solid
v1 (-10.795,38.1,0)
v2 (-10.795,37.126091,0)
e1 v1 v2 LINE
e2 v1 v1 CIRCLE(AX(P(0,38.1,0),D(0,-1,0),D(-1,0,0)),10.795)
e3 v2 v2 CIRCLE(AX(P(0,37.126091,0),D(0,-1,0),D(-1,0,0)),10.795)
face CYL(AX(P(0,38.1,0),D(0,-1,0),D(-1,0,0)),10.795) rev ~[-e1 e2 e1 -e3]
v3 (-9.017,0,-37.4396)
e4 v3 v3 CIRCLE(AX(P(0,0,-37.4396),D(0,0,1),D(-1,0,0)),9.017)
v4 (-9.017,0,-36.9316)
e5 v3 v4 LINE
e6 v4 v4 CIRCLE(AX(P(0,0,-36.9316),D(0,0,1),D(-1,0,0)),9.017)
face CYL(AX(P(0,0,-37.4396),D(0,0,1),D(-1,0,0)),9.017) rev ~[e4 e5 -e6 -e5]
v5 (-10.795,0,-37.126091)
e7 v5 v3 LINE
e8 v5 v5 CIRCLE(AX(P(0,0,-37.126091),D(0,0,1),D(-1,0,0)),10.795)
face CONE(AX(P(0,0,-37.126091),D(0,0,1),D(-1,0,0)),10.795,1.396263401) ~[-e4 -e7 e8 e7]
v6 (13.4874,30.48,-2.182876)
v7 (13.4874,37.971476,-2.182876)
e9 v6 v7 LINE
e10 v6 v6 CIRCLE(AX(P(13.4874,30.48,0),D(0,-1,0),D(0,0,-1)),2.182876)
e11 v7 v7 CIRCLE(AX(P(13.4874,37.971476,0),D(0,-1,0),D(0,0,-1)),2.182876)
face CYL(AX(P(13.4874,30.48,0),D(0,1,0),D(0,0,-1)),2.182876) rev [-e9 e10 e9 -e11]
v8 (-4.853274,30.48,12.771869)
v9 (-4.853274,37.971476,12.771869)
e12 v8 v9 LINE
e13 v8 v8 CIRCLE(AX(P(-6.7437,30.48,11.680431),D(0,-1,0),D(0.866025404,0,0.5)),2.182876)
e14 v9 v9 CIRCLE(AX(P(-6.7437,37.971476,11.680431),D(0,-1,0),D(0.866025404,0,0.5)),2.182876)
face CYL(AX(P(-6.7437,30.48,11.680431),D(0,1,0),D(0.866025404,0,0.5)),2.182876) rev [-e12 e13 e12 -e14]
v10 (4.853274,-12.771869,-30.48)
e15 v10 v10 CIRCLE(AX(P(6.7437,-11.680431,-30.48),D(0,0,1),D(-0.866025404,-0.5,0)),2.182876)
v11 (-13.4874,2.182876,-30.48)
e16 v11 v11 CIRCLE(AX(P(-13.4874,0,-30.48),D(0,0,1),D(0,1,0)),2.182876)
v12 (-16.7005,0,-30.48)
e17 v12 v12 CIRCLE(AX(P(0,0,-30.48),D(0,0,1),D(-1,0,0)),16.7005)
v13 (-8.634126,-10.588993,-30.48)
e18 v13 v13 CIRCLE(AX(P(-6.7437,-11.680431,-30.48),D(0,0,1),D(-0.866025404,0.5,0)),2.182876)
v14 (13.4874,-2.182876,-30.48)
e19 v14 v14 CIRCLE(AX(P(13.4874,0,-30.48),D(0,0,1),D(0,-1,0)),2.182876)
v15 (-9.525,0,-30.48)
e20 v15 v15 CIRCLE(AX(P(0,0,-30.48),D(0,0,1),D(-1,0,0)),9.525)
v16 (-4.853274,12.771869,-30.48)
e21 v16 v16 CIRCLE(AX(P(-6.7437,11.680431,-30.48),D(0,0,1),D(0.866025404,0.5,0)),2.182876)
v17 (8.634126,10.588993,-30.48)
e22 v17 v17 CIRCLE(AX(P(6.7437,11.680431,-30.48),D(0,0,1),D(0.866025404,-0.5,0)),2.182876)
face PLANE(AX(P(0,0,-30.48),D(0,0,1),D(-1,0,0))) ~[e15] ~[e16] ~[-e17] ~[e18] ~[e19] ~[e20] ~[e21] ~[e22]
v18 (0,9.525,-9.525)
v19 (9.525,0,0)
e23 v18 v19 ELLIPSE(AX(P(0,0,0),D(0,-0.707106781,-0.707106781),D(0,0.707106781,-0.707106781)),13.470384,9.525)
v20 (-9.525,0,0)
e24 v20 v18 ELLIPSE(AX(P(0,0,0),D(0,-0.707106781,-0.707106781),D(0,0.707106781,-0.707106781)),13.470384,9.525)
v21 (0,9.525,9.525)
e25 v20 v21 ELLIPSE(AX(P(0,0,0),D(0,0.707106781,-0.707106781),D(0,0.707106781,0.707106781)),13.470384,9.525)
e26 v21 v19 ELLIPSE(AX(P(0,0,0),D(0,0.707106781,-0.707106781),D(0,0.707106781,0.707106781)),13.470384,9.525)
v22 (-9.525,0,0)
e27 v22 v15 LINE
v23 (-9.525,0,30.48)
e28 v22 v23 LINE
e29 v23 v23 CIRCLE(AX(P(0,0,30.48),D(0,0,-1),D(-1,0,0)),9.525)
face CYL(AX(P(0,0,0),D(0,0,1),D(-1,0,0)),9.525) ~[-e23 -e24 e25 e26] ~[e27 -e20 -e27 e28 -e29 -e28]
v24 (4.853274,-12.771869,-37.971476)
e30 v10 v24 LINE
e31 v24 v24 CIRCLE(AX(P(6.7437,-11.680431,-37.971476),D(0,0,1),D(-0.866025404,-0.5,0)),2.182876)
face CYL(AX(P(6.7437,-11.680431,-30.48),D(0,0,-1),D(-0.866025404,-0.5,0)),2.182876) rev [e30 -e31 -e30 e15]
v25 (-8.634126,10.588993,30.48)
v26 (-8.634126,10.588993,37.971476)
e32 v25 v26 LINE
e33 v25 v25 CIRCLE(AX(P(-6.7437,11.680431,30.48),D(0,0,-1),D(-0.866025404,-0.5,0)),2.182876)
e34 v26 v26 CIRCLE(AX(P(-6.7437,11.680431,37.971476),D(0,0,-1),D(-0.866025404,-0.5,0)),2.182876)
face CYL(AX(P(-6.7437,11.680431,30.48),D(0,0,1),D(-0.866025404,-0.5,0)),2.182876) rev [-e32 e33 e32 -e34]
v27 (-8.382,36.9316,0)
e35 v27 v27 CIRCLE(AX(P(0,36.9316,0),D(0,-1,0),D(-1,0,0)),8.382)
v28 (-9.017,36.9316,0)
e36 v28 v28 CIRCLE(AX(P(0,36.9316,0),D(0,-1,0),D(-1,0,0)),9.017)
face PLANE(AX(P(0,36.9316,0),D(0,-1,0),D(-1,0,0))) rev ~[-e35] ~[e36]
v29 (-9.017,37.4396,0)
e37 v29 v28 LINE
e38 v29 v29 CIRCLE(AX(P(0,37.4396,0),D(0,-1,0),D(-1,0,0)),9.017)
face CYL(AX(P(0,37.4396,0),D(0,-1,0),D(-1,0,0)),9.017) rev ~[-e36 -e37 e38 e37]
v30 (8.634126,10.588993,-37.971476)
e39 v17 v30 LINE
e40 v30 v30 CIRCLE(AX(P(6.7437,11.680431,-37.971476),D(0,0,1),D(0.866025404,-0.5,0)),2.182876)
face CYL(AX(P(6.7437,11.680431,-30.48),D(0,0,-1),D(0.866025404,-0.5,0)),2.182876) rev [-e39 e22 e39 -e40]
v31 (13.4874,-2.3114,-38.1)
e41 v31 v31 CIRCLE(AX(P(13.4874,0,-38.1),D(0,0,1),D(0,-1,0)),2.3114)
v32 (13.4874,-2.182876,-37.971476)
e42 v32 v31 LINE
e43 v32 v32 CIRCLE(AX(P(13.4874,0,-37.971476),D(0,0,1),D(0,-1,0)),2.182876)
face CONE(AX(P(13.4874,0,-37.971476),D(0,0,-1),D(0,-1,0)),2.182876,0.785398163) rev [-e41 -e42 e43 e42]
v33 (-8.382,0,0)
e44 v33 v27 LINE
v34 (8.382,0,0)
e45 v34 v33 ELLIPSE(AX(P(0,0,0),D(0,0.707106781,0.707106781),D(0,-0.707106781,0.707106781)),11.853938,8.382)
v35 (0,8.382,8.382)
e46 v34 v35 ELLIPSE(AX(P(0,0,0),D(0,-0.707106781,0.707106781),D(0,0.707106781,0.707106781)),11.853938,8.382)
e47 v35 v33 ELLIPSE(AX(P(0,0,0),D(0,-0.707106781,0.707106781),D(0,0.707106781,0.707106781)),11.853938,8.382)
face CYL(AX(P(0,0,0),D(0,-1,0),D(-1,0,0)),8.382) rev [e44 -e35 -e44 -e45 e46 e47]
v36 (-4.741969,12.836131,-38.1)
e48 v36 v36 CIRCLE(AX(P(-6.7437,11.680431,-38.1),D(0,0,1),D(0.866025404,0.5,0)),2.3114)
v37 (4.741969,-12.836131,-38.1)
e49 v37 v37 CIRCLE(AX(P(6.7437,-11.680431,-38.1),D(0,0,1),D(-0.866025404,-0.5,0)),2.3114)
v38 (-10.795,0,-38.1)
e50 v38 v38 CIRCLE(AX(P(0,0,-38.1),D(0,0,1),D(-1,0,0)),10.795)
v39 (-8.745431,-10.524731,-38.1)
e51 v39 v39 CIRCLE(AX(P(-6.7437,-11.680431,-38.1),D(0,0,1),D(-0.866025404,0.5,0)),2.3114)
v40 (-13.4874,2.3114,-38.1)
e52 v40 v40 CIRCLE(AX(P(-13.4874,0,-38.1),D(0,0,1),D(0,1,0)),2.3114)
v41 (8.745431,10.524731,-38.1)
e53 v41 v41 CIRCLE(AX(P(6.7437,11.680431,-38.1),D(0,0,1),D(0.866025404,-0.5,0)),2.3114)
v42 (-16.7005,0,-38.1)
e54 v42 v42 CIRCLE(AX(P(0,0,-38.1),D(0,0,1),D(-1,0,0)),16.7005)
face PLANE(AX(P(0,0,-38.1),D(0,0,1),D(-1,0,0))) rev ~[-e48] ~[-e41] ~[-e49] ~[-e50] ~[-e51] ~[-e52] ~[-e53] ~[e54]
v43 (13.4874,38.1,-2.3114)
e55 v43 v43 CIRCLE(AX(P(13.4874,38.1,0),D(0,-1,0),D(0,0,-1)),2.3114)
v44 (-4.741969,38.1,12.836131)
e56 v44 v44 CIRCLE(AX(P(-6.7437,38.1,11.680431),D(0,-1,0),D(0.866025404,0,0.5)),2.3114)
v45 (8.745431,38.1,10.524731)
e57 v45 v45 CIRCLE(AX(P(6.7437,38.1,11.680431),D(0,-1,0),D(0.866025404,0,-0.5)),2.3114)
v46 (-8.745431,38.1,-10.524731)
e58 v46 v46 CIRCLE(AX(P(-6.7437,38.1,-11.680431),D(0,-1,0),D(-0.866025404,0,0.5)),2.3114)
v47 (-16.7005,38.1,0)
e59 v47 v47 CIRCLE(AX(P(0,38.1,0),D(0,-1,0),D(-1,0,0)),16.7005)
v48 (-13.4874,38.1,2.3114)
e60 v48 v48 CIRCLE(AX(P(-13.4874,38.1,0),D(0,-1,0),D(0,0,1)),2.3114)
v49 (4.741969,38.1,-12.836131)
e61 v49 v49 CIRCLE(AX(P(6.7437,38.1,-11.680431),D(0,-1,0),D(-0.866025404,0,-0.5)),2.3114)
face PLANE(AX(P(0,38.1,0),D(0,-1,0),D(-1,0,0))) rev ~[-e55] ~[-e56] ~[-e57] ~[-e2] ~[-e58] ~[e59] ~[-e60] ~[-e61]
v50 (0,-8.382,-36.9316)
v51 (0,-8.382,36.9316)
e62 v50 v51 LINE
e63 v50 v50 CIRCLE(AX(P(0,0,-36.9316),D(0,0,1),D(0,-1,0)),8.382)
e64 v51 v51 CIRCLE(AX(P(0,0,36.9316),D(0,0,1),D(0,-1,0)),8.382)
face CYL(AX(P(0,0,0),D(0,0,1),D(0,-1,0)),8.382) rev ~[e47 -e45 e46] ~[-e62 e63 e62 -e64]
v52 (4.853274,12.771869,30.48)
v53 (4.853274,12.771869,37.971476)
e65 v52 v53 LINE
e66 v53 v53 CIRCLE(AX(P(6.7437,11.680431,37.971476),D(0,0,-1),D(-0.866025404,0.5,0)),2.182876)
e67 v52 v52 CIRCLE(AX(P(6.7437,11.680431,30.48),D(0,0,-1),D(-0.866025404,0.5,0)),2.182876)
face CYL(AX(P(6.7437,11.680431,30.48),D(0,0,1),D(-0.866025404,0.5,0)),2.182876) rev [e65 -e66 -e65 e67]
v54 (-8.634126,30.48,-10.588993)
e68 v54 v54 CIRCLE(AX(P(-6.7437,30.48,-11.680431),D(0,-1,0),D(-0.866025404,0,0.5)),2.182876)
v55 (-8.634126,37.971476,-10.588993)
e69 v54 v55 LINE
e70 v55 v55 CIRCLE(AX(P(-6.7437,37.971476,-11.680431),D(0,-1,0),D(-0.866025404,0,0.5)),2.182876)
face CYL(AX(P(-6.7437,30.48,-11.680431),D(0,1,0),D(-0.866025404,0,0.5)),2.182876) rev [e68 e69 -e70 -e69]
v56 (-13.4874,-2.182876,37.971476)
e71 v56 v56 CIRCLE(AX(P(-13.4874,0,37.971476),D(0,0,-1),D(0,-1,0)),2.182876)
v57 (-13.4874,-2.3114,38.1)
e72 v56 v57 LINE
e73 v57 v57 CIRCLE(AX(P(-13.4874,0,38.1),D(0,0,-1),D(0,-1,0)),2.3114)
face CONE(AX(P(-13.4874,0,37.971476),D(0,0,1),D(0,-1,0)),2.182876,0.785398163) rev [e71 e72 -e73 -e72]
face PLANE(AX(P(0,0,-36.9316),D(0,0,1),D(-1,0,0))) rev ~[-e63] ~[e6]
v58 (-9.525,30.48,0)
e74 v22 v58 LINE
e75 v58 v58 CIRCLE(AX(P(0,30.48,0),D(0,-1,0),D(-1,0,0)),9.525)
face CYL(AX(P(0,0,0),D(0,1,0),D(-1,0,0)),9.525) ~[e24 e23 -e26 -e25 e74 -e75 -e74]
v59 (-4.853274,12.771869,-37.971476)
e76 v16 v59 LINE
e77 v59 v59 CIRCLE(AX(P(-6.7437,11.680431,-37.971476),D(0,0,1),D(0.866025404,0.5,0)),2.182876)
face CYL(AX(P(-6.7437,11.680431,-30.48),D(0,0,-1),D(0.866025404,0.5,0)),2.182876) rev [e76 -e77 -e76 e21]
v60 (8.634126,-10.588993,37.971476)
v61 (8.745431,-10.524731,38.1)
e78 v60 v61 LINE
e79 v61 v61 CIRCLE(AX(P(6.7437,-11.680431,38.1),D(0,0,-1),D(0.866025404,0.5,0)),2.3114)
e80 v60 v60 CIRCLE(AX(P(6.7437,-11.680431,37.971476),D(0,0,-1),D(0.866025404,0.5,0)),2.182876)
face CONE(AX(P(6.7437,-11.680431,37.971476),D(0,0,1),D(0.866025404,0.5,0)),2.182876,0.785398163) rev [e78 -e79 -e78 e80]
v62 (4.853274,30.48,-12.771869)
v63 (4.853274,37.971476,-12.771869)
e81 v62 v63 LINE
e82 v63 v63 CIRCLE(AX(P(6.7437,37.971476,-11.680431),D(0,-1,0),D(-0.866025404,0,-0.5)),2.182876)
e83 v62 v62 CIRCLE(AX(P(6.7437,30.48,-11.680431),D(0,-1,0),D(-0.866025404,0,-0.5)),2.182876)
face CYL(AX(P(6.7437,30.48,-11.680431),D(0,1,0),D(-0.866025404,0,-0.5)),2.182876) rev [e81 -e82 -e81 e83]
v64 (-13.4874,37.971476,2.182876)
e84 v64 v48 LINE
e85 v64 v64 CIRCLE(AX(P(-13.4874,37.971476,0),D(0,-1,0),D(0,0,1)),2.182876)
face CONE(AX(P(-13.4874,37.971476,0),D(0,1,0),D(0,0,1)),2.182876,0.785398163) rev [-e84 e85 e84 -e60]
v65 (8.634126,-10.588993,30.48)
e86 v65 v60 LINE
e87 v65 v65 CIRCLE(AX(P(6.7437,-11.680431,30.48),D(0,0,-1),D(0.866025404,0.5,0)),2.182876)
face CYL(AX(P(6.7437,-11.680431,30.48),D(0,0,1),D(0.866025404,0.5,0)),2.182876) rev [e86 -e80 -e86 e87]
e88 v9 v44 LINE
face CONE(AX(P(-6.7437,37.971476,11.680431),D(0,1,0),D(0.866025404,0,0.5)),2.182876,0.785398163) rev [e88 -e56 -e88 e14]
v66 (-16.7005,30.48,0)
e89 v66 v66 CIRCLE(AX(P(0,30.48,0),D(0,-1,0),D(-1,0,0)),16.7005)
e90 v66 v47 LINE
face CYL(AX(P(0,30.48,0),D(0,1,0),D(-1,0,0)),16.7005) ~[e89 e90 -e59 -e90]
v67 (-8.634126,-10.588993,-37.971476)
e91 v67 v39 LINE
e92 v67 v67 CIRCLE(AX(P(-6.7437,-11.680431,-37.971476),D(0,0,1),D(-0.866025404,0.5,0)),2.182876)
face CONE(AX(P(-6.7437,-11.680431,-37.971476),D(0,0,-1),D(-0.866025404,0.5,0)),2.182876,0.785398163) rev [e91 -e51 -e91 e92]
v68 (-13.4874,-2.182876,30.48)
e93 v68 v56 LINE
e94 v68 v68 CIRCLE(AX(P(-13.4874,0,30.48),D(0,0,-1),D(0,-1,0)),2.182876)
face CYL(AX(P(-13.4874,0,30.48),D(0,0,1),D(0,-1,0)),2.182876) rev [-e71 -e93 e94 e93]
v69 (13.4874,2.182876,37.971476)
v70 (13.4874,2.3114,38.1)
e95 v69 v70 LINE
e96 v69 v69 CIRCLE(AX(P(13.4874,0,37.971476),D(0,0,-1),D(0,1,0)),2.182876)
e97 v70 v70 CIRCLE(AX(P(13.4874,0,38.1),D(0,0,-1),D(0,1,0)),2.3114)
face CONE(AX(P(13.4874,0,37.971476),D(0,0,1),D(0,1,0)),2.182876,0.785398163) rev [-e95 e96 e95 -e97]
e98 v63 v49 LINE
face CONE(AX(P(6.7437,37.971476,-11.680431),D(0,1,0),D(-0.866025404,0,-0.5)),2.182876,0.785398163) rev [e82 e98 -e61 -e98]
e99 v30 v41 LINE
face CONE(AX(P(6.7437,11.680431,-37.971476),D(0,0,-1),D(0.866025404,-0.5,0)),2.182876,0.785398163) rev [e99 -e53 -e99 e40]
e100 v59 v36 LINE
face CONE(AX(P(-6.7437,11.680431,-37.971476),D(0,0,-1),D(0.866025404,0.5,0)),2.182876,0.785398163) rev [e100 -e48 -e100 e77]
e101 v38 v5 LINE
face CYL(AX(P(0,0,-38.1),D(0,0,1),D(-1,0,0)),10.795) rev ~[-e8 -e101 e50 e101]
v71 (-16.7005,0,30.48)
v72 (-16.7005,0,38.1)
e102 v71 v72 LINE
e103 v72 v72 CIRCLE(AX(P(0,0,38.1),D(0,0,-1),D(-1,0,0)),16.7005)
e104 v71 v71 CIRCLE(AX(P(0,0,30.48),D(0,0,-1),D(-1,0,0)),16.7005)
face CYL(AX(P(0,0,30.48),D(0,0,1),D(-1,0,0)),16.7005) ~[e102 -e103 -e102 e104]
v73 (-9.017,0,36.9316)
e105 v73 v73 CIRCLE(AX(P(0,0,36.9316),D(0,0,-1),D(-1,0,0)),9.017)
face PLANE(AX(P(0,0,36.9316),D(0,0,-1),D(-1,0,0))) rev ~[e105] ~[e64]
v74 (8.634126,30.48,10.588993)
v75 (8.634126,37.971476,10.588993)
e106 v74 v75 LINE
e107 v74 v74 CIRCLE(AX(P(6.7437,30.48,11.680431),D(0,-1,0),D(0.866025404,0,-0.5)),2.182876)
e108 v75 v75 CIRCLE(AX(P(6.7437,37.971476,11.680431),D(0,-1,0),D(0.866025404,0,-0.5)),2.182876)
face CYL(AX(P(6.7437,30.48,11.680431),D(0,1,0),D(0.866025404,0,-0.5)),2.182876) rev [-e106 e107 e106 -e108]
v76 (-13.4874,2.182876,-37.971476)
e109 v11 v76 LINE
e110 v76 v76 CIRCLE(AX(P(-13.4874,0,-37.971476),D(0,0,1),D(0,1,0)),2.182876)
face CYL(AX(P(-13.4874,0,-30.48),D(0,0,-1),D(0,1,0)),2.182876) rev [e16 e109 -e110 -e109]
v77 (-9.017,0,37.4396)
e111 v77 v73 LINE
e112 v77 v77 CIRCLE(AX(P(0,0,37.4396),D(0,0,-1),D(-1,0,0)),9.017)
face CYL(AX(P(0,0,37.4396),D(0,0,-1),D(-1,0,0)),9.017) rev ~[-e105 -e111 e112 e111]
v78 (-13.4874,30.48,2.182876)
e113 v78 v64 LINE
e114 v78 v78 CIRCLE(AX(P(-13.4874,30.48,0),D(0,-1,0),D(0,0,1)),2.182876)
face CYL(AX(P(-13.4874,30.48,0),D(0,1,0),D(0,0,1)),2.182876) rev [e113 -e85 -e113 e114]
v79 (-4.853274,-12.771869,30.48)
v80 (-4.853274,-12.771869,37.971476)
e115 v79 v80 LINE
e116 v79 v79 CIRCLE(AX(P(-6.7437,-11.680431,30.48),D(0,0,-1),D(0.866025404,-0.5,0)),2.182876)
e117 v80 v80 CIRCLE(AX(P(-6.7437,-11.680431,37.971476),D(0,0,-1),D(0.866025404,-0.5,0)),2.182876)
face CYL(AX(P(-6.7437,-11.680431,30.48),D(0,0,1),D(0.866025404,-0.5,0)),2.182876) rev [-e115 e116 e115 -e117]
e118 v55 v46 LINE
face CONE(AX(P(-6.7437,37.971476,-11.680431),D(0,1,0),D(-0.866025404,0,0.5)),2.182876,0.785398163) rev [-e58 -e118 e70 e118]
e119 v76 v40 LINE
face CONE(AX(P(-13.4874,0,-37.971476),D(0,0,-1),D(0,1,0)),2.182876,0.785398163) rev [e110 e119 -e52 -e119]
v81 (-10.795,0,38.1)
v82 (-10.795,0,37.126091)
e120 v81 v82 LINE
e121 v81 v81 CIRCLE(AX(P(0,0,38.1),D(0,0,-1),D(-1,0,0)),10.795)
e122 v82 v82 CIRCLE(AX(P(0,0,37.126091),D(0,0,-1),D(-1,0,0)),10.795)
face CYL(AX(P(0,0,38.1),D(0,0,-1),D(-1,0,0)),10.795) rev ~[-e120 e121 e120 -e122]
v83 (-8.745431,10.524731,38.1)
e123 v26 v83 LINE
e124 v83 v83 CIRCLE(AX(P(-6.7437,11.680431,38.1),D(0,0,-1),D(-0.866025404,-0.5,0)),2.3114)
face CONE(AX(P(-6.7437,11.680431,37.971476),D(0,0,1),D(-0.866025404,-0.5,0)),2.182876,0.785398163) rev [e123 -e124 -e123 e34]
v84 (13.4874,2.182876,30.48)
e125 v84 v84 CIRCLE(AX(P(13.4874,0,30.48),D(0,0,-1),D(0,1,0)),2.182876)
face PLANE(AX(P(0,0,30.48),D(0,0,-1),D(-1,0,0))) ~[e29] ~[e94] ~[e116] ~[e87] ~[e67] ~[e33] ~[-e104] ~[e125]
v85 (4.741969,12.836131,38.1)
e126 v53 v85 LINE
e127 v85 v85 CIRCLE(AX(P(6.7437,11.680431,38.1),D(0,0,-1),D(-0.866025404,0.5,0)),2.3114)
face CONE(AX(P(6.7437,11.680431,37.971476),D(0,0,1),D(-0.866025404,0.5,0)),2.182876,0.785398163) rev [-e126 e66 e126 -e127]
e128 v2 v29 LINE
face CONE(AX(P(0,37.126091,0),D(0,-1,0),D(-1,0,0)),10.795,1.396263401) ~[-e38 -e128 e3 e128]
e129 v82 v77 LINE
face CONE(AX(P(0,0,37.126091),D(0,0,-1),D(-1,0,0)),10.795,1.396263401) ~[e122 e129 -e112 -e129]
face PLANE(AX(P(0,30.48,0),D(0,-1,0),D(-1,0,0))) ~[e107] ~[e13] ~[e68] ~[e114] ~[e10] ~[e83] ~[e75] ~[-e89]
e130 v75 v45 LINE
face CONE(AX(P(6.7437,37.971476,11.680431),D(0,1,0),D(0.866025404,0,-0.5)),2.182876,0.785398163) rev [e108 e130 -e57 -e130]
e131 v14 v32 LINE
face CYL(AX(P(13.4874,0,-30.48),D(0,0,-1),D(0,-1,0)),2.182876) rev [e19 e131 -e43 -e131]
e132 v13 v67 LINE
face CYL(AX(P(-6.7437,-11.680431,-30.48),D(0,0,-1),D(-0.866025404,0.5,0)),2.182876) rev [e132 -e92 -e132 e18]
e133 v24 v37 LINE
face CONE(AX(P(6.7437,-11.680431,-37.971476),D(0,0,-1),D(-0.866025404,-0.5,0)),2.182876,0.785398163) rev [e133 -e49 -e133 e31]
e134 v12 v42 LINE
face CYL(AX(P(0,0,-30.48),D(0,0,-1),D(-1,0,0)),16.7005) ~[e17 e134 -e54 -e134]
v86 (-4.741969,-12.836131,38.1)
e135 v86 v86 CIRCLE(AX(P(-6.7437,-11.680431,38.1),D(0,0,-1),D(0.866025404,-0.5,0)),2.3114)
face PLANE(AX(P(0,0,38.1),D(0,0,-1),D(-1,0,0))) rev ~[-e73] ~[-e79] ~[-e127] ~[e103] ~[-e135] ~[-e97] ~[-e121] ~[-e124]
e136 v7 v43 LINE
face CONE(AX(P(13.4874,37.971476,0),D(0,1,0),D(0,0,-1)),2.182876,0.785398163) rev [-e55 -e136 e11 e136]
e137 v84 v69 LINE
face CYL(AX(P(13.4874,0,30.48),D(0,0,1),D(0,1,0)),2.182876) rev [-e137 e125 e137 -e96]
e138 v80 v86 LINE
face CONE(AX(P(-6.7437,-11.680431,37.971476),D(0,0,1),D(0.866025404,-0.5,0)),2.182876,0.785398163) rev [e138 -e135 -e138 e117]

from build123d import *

# Parameters (mm, degrees)
CIRPATTERN1_COUNT  = 6
CIRPATTERN5_COUNT  = 3
CIRPATTERN5_ANGLE  = 180
SKETCH6_R          = 8.382
CUT_EXTRUDE1_DEPTH = 50.8
SKETCH7_R          = 8.382
CUT_EXTRUDE2_DEPTH = 50.8


with BuildPart() as part:
    # Sketch3 → Revolve1 (revolve)
    with BuildSketch(Plane(origin=(0, 0, 0), x_dir=(0, 0, -1), z_dir=(1, 0, 0))):
        Polygon((30.48, 9.525), (30.48, 16.7005), (38.1, 16.7005), (38.1, 10.795), (37.126090628, 10.795), (37.4396, 9.017), (36.9316, 9.017), (36.9316, 0), (0, 0), (0, 9.525), align=None)
    revolve1 = revolve(axis=Axis((0, 0, -80.9), (0, 0, 1)))

    # Sketch4 → 11/64 (0.17188) Diameter Hole1 (revolve, cut)
    with BuildSketch(Plane(origin=(-13.4874, 0, -38.1), x_dir=(0, 1, 0), z_dir=(1, 0, 0))):
        Polygon((0, 0), (0, 8.931604225), (2.182876, 7.62), (2.182876, 0.128524), (2.3114, 0), align=None)
    f_11_64_0_17188_diameter_hole1 = revolve(axis=Axis((-13.4874, 0, -44.45), (0, 0, 1)), mode=Mode.SUBTRACT)

    # CirPattern1: 11/64 (0.17188) Diameter Hole1 ×6 about axis
    cirpattern1_axis = Axis((0, 0, -80.9), (0, 0, 1))
    for i in range(1, CIRPATTERN1_COUNT):
        add(f_11_64_0_17188_diameter_hole1.rotate(cirpattern1_axis, i * 360 / CIRPATTERN1_COUNT), mode=Mode.SUBTRACT)

    # CirPattern5: Revolve1, 11/64 (0.17188) Diameter Hole1 ×3 about axis
    cirpattern5_axis = Axis((-14.524008421, 0, 0), (1, 0, 0))
    add([revolve1.rotate(cirpattern5_axis, i * CIRPATTERN5_ANGLE / (CIRPATTERN5_COUNT - 1)) for i in range(1, CIRPATTERN5_COUNT)])
    add([f_11_64_0_17188_diameter_hole1.rotate(cirpattern5_axis, i * CIRPATTERN5_ANGLE / (CIRPATTERN5_COUNT - 1)) for i in range(1, CIRPATTERN5_COUNT)], mode=Mode.SUBTRACT)

    # CirPattern5 copy 1 sketch → CirPattern5 copy 1 (revolve, cut)
    with BuildSketch(Plane(origin=(-6.7437, 38.1, -11.680431031), x_dir=(-0.8660254037844386, -1.745740669421567e-15, 0.5000000000000001), z_dir=(0.5000000000000001, -3.023711536277457e-15, 0.8660254037844386))):
        Polygon((0, 0), (0, 8.931604225), (2.182876, 7.62), (2.182876, 0.128524), (2.3114, 0), align=None)
    revolve(axis=Axis((-6.7437, 44.45, -11.680431031), (0, -1, 0)), mode=Mode.SUBTRACT)

    # CirPattern5 copy 2 sketch → CirPattern5 copy 2 (revolve, cut)
    with BuildSketch(Plane(origin=(-6.7437, 11.680431031, 38.1), x_dir=(-0.8660254037844386, -0.5000000000000001, -3.491481338843134e-15), z_dir=(0.5000000000000001, -0.8660254037844386, -6.047423072554914e-15))):
        Polygon((0, 0), (0, 8.931604225), (2.182876, 7.62), (2.182876, 0.128524), (2.3114, 0), align=None)
    revolve(axis=Axis((-6.7437, 11.680431031, 44.45), (0, 0, -1)), mode=Mode.SUBTRACT)

    # CirPattern5 copy 3 sketch → CirPattern5 copy 3 (revolve, cut)
    with BuildSketch(Plane(origin=(6.7437, 38.1, -11.680431031), x_dir=(-0.8660254037844387, 1.7457406694215659e-15, -0.4999999999999998), z_dir=(-0.4999999999999998, -3.0237115362774574e-15, 0.8660254037844387))):
        Polygon((0, 0), (0, 8.931604225), (2.182876, 7.62), (2.182876, 0.128524), (2.3114, 0), align=None)
    revolve(axis=Axis((6.7437, 44.45, -11.680431031), (0, -1, 0)), mode=Mode.SUBTRACT)

    # CirPattern5 copy 4 sketch → CirPattern5 copy 4 (revolve, cut)
    with BuildSketch(Plane(origin=(6.7437, 11.680431031, 38.1), x_dir=(-0.8660254037844387, 0.4999999999999998, 3.4914813388431318e-15), z_dir=(-0.4999999999999998, -0.8660254037844387, -6.047423072554915e-15))):
        Polygon((0, 0), (0, 8.931604225), (2.182876, 7.62), (2.182876, 0.128524), (2.3114, 0), align=None)
    revolve(axis=Axis((6.7437, 11.680431031, 44.45), (0, 0, -1)), mode=Mode.SUBTRACT)

    # CirPattern5 copy 5 sketch → CirPattern5 copy 5 (revolve, cut)
    with BuildSketch(Plane(origin=(13.4874, 38.1, 0), x_dir=(0, 0, -1), z_dir=(-1, 0, 0))):
        Polygon((0, 0), (0, 8.931604225), (2.182876, 7.62), (2.182876, 0.128524), (2.3114, 0), align=None)
    revolve(axis=Axis((13.4874, 44.45, 0), (0, -1, 0)), mode=Mode.SUBTRACT)

    # CirPattern5 copy 6 sketch → CirPattern5 copy 6 (revolve, cut)
    with BuildSketch(Plane(origin=(13.4874, 0, 38.1), x_dir=(0, 1, 0), z_dir=(-1, 0, 0))):
        Polygon((0, 0), (0, 8.931604225), (2.182876, 7.62), (2.182876, 0.128524), (2.3114, 0), align=None)
    revolve(axis=Axis((13.4874, 0, 44.45), (0, 0, -1)), mode=Mode.SUBTRACT)

    # CirPattern5 copy 7 sketch → CirPattern5 copy 7 (revolve, cut)
    with BuildSketch(Plane(origin=(6.7437, 38.1, 11.680431031), x_dir=(0.8660254037844384, 1.7457406694215683e-15, -0.5000000000000004), z_dir=(-0.5000000000000004, 3.0237115362774562e-15, -0.8660254037844384))):
        Polygon((0, 0), (0, 8.931604225), (2.182876, 7.62), (2.182876, 0.128524), (2.3114, 0), align=None)
    revolve(axis=Axis((6.7437, 44.45, 11.680431031), (0, -1, 0)), mode=Mode.SUBTRACT)

    # CirPattern5 copy 8 sketch → CirPattern5 copy 8 (revolve, cut)
    with BuildSketch(Plane(origin=(6.7437, -11.680431031, 38.1), x_dir=(0.8660254037844384, 0.5000000000000004, 3.4914813388431365e-15), z_dir=(-0.5000000000000004, 0.8660254037844384, 6.0474230725549124e-15))):
        Polygon((0, 0), (0, 8.931604225), (2.182876, 7.62), (2.182876, 0.128524), (2.3114, 0), align=None)
    revolve(axis=Axis((6.7437, -11.680431031, 44.45), (0, 0, -1)), mode=Mode.SUBTRACT)

    # CirPattern5 copy 9 sketch → CirPattern5 copy 9 (revolve, cut)
    with BuildSketch(Plane(origin=(-6.7437, 38.1, 11.680431031), x_dir=(0.8660254037844386, -1.745740669421567e-15, 0.5000000000000001), z_dir=(0.5000000000000001, 3.023711536277457e-15, -0.8660254037844386))):
        Polygon((0, 0), (0, 8.931604225), (2.182876, 7.62), (2.182876, 0.128524), (2.3114, 0), align=None)
    revolve(axis=Axis((-6.7437, 44.45, 11.680431031), (0, -1, 0)), mode=Mode.SUBTRACT)

    # CirPattern5 copy 10 sketch → CirPattern5 copy 10 (revolve, cut)
    with BuildSketch(Plane(origin=(-6.7437, -11.680431031, 38.1), x_dir=(0.8660254037844386, -0.5000000000000001, -3.491481338843134e-15), z_dir=(0.5000000000000001, 0.8660254037844386, 6.047423072554914e-15))):
        Polygon((0, 0), (0, 8.931604225), (2.182876, 7.62), (2.182876, 0.128524), (2.3114, 0), align=None)
    revolve(axis=Axis((-6.7437, -11.680431031, 44.45), (0, 0, -1)), mode=Mode.SUBTRACT)

    # Sketch6 → Cut-Extrude1 (cut, symmetric)
    with BuildSketch(Plane.XY):
        Circle(SKETCH6_R)
    extrude(amount=CUT_EXTRUDE1_DEPTH, both=True, mode=Mode.SUBTRACT)

    # Sketch7 → Cut-Extrude2 (cut)
    with BuildSketch(Plane(origin=(0, 0, 0), x_dir=(1, 0, 0), z_dir=(0, 1, 0))):
        Circle(SKETCH7_R)
    extrude(amount=CUT_EXTRUDE2_DEPTH, mode=Mode.SUBTRACT)


solid = part.part
